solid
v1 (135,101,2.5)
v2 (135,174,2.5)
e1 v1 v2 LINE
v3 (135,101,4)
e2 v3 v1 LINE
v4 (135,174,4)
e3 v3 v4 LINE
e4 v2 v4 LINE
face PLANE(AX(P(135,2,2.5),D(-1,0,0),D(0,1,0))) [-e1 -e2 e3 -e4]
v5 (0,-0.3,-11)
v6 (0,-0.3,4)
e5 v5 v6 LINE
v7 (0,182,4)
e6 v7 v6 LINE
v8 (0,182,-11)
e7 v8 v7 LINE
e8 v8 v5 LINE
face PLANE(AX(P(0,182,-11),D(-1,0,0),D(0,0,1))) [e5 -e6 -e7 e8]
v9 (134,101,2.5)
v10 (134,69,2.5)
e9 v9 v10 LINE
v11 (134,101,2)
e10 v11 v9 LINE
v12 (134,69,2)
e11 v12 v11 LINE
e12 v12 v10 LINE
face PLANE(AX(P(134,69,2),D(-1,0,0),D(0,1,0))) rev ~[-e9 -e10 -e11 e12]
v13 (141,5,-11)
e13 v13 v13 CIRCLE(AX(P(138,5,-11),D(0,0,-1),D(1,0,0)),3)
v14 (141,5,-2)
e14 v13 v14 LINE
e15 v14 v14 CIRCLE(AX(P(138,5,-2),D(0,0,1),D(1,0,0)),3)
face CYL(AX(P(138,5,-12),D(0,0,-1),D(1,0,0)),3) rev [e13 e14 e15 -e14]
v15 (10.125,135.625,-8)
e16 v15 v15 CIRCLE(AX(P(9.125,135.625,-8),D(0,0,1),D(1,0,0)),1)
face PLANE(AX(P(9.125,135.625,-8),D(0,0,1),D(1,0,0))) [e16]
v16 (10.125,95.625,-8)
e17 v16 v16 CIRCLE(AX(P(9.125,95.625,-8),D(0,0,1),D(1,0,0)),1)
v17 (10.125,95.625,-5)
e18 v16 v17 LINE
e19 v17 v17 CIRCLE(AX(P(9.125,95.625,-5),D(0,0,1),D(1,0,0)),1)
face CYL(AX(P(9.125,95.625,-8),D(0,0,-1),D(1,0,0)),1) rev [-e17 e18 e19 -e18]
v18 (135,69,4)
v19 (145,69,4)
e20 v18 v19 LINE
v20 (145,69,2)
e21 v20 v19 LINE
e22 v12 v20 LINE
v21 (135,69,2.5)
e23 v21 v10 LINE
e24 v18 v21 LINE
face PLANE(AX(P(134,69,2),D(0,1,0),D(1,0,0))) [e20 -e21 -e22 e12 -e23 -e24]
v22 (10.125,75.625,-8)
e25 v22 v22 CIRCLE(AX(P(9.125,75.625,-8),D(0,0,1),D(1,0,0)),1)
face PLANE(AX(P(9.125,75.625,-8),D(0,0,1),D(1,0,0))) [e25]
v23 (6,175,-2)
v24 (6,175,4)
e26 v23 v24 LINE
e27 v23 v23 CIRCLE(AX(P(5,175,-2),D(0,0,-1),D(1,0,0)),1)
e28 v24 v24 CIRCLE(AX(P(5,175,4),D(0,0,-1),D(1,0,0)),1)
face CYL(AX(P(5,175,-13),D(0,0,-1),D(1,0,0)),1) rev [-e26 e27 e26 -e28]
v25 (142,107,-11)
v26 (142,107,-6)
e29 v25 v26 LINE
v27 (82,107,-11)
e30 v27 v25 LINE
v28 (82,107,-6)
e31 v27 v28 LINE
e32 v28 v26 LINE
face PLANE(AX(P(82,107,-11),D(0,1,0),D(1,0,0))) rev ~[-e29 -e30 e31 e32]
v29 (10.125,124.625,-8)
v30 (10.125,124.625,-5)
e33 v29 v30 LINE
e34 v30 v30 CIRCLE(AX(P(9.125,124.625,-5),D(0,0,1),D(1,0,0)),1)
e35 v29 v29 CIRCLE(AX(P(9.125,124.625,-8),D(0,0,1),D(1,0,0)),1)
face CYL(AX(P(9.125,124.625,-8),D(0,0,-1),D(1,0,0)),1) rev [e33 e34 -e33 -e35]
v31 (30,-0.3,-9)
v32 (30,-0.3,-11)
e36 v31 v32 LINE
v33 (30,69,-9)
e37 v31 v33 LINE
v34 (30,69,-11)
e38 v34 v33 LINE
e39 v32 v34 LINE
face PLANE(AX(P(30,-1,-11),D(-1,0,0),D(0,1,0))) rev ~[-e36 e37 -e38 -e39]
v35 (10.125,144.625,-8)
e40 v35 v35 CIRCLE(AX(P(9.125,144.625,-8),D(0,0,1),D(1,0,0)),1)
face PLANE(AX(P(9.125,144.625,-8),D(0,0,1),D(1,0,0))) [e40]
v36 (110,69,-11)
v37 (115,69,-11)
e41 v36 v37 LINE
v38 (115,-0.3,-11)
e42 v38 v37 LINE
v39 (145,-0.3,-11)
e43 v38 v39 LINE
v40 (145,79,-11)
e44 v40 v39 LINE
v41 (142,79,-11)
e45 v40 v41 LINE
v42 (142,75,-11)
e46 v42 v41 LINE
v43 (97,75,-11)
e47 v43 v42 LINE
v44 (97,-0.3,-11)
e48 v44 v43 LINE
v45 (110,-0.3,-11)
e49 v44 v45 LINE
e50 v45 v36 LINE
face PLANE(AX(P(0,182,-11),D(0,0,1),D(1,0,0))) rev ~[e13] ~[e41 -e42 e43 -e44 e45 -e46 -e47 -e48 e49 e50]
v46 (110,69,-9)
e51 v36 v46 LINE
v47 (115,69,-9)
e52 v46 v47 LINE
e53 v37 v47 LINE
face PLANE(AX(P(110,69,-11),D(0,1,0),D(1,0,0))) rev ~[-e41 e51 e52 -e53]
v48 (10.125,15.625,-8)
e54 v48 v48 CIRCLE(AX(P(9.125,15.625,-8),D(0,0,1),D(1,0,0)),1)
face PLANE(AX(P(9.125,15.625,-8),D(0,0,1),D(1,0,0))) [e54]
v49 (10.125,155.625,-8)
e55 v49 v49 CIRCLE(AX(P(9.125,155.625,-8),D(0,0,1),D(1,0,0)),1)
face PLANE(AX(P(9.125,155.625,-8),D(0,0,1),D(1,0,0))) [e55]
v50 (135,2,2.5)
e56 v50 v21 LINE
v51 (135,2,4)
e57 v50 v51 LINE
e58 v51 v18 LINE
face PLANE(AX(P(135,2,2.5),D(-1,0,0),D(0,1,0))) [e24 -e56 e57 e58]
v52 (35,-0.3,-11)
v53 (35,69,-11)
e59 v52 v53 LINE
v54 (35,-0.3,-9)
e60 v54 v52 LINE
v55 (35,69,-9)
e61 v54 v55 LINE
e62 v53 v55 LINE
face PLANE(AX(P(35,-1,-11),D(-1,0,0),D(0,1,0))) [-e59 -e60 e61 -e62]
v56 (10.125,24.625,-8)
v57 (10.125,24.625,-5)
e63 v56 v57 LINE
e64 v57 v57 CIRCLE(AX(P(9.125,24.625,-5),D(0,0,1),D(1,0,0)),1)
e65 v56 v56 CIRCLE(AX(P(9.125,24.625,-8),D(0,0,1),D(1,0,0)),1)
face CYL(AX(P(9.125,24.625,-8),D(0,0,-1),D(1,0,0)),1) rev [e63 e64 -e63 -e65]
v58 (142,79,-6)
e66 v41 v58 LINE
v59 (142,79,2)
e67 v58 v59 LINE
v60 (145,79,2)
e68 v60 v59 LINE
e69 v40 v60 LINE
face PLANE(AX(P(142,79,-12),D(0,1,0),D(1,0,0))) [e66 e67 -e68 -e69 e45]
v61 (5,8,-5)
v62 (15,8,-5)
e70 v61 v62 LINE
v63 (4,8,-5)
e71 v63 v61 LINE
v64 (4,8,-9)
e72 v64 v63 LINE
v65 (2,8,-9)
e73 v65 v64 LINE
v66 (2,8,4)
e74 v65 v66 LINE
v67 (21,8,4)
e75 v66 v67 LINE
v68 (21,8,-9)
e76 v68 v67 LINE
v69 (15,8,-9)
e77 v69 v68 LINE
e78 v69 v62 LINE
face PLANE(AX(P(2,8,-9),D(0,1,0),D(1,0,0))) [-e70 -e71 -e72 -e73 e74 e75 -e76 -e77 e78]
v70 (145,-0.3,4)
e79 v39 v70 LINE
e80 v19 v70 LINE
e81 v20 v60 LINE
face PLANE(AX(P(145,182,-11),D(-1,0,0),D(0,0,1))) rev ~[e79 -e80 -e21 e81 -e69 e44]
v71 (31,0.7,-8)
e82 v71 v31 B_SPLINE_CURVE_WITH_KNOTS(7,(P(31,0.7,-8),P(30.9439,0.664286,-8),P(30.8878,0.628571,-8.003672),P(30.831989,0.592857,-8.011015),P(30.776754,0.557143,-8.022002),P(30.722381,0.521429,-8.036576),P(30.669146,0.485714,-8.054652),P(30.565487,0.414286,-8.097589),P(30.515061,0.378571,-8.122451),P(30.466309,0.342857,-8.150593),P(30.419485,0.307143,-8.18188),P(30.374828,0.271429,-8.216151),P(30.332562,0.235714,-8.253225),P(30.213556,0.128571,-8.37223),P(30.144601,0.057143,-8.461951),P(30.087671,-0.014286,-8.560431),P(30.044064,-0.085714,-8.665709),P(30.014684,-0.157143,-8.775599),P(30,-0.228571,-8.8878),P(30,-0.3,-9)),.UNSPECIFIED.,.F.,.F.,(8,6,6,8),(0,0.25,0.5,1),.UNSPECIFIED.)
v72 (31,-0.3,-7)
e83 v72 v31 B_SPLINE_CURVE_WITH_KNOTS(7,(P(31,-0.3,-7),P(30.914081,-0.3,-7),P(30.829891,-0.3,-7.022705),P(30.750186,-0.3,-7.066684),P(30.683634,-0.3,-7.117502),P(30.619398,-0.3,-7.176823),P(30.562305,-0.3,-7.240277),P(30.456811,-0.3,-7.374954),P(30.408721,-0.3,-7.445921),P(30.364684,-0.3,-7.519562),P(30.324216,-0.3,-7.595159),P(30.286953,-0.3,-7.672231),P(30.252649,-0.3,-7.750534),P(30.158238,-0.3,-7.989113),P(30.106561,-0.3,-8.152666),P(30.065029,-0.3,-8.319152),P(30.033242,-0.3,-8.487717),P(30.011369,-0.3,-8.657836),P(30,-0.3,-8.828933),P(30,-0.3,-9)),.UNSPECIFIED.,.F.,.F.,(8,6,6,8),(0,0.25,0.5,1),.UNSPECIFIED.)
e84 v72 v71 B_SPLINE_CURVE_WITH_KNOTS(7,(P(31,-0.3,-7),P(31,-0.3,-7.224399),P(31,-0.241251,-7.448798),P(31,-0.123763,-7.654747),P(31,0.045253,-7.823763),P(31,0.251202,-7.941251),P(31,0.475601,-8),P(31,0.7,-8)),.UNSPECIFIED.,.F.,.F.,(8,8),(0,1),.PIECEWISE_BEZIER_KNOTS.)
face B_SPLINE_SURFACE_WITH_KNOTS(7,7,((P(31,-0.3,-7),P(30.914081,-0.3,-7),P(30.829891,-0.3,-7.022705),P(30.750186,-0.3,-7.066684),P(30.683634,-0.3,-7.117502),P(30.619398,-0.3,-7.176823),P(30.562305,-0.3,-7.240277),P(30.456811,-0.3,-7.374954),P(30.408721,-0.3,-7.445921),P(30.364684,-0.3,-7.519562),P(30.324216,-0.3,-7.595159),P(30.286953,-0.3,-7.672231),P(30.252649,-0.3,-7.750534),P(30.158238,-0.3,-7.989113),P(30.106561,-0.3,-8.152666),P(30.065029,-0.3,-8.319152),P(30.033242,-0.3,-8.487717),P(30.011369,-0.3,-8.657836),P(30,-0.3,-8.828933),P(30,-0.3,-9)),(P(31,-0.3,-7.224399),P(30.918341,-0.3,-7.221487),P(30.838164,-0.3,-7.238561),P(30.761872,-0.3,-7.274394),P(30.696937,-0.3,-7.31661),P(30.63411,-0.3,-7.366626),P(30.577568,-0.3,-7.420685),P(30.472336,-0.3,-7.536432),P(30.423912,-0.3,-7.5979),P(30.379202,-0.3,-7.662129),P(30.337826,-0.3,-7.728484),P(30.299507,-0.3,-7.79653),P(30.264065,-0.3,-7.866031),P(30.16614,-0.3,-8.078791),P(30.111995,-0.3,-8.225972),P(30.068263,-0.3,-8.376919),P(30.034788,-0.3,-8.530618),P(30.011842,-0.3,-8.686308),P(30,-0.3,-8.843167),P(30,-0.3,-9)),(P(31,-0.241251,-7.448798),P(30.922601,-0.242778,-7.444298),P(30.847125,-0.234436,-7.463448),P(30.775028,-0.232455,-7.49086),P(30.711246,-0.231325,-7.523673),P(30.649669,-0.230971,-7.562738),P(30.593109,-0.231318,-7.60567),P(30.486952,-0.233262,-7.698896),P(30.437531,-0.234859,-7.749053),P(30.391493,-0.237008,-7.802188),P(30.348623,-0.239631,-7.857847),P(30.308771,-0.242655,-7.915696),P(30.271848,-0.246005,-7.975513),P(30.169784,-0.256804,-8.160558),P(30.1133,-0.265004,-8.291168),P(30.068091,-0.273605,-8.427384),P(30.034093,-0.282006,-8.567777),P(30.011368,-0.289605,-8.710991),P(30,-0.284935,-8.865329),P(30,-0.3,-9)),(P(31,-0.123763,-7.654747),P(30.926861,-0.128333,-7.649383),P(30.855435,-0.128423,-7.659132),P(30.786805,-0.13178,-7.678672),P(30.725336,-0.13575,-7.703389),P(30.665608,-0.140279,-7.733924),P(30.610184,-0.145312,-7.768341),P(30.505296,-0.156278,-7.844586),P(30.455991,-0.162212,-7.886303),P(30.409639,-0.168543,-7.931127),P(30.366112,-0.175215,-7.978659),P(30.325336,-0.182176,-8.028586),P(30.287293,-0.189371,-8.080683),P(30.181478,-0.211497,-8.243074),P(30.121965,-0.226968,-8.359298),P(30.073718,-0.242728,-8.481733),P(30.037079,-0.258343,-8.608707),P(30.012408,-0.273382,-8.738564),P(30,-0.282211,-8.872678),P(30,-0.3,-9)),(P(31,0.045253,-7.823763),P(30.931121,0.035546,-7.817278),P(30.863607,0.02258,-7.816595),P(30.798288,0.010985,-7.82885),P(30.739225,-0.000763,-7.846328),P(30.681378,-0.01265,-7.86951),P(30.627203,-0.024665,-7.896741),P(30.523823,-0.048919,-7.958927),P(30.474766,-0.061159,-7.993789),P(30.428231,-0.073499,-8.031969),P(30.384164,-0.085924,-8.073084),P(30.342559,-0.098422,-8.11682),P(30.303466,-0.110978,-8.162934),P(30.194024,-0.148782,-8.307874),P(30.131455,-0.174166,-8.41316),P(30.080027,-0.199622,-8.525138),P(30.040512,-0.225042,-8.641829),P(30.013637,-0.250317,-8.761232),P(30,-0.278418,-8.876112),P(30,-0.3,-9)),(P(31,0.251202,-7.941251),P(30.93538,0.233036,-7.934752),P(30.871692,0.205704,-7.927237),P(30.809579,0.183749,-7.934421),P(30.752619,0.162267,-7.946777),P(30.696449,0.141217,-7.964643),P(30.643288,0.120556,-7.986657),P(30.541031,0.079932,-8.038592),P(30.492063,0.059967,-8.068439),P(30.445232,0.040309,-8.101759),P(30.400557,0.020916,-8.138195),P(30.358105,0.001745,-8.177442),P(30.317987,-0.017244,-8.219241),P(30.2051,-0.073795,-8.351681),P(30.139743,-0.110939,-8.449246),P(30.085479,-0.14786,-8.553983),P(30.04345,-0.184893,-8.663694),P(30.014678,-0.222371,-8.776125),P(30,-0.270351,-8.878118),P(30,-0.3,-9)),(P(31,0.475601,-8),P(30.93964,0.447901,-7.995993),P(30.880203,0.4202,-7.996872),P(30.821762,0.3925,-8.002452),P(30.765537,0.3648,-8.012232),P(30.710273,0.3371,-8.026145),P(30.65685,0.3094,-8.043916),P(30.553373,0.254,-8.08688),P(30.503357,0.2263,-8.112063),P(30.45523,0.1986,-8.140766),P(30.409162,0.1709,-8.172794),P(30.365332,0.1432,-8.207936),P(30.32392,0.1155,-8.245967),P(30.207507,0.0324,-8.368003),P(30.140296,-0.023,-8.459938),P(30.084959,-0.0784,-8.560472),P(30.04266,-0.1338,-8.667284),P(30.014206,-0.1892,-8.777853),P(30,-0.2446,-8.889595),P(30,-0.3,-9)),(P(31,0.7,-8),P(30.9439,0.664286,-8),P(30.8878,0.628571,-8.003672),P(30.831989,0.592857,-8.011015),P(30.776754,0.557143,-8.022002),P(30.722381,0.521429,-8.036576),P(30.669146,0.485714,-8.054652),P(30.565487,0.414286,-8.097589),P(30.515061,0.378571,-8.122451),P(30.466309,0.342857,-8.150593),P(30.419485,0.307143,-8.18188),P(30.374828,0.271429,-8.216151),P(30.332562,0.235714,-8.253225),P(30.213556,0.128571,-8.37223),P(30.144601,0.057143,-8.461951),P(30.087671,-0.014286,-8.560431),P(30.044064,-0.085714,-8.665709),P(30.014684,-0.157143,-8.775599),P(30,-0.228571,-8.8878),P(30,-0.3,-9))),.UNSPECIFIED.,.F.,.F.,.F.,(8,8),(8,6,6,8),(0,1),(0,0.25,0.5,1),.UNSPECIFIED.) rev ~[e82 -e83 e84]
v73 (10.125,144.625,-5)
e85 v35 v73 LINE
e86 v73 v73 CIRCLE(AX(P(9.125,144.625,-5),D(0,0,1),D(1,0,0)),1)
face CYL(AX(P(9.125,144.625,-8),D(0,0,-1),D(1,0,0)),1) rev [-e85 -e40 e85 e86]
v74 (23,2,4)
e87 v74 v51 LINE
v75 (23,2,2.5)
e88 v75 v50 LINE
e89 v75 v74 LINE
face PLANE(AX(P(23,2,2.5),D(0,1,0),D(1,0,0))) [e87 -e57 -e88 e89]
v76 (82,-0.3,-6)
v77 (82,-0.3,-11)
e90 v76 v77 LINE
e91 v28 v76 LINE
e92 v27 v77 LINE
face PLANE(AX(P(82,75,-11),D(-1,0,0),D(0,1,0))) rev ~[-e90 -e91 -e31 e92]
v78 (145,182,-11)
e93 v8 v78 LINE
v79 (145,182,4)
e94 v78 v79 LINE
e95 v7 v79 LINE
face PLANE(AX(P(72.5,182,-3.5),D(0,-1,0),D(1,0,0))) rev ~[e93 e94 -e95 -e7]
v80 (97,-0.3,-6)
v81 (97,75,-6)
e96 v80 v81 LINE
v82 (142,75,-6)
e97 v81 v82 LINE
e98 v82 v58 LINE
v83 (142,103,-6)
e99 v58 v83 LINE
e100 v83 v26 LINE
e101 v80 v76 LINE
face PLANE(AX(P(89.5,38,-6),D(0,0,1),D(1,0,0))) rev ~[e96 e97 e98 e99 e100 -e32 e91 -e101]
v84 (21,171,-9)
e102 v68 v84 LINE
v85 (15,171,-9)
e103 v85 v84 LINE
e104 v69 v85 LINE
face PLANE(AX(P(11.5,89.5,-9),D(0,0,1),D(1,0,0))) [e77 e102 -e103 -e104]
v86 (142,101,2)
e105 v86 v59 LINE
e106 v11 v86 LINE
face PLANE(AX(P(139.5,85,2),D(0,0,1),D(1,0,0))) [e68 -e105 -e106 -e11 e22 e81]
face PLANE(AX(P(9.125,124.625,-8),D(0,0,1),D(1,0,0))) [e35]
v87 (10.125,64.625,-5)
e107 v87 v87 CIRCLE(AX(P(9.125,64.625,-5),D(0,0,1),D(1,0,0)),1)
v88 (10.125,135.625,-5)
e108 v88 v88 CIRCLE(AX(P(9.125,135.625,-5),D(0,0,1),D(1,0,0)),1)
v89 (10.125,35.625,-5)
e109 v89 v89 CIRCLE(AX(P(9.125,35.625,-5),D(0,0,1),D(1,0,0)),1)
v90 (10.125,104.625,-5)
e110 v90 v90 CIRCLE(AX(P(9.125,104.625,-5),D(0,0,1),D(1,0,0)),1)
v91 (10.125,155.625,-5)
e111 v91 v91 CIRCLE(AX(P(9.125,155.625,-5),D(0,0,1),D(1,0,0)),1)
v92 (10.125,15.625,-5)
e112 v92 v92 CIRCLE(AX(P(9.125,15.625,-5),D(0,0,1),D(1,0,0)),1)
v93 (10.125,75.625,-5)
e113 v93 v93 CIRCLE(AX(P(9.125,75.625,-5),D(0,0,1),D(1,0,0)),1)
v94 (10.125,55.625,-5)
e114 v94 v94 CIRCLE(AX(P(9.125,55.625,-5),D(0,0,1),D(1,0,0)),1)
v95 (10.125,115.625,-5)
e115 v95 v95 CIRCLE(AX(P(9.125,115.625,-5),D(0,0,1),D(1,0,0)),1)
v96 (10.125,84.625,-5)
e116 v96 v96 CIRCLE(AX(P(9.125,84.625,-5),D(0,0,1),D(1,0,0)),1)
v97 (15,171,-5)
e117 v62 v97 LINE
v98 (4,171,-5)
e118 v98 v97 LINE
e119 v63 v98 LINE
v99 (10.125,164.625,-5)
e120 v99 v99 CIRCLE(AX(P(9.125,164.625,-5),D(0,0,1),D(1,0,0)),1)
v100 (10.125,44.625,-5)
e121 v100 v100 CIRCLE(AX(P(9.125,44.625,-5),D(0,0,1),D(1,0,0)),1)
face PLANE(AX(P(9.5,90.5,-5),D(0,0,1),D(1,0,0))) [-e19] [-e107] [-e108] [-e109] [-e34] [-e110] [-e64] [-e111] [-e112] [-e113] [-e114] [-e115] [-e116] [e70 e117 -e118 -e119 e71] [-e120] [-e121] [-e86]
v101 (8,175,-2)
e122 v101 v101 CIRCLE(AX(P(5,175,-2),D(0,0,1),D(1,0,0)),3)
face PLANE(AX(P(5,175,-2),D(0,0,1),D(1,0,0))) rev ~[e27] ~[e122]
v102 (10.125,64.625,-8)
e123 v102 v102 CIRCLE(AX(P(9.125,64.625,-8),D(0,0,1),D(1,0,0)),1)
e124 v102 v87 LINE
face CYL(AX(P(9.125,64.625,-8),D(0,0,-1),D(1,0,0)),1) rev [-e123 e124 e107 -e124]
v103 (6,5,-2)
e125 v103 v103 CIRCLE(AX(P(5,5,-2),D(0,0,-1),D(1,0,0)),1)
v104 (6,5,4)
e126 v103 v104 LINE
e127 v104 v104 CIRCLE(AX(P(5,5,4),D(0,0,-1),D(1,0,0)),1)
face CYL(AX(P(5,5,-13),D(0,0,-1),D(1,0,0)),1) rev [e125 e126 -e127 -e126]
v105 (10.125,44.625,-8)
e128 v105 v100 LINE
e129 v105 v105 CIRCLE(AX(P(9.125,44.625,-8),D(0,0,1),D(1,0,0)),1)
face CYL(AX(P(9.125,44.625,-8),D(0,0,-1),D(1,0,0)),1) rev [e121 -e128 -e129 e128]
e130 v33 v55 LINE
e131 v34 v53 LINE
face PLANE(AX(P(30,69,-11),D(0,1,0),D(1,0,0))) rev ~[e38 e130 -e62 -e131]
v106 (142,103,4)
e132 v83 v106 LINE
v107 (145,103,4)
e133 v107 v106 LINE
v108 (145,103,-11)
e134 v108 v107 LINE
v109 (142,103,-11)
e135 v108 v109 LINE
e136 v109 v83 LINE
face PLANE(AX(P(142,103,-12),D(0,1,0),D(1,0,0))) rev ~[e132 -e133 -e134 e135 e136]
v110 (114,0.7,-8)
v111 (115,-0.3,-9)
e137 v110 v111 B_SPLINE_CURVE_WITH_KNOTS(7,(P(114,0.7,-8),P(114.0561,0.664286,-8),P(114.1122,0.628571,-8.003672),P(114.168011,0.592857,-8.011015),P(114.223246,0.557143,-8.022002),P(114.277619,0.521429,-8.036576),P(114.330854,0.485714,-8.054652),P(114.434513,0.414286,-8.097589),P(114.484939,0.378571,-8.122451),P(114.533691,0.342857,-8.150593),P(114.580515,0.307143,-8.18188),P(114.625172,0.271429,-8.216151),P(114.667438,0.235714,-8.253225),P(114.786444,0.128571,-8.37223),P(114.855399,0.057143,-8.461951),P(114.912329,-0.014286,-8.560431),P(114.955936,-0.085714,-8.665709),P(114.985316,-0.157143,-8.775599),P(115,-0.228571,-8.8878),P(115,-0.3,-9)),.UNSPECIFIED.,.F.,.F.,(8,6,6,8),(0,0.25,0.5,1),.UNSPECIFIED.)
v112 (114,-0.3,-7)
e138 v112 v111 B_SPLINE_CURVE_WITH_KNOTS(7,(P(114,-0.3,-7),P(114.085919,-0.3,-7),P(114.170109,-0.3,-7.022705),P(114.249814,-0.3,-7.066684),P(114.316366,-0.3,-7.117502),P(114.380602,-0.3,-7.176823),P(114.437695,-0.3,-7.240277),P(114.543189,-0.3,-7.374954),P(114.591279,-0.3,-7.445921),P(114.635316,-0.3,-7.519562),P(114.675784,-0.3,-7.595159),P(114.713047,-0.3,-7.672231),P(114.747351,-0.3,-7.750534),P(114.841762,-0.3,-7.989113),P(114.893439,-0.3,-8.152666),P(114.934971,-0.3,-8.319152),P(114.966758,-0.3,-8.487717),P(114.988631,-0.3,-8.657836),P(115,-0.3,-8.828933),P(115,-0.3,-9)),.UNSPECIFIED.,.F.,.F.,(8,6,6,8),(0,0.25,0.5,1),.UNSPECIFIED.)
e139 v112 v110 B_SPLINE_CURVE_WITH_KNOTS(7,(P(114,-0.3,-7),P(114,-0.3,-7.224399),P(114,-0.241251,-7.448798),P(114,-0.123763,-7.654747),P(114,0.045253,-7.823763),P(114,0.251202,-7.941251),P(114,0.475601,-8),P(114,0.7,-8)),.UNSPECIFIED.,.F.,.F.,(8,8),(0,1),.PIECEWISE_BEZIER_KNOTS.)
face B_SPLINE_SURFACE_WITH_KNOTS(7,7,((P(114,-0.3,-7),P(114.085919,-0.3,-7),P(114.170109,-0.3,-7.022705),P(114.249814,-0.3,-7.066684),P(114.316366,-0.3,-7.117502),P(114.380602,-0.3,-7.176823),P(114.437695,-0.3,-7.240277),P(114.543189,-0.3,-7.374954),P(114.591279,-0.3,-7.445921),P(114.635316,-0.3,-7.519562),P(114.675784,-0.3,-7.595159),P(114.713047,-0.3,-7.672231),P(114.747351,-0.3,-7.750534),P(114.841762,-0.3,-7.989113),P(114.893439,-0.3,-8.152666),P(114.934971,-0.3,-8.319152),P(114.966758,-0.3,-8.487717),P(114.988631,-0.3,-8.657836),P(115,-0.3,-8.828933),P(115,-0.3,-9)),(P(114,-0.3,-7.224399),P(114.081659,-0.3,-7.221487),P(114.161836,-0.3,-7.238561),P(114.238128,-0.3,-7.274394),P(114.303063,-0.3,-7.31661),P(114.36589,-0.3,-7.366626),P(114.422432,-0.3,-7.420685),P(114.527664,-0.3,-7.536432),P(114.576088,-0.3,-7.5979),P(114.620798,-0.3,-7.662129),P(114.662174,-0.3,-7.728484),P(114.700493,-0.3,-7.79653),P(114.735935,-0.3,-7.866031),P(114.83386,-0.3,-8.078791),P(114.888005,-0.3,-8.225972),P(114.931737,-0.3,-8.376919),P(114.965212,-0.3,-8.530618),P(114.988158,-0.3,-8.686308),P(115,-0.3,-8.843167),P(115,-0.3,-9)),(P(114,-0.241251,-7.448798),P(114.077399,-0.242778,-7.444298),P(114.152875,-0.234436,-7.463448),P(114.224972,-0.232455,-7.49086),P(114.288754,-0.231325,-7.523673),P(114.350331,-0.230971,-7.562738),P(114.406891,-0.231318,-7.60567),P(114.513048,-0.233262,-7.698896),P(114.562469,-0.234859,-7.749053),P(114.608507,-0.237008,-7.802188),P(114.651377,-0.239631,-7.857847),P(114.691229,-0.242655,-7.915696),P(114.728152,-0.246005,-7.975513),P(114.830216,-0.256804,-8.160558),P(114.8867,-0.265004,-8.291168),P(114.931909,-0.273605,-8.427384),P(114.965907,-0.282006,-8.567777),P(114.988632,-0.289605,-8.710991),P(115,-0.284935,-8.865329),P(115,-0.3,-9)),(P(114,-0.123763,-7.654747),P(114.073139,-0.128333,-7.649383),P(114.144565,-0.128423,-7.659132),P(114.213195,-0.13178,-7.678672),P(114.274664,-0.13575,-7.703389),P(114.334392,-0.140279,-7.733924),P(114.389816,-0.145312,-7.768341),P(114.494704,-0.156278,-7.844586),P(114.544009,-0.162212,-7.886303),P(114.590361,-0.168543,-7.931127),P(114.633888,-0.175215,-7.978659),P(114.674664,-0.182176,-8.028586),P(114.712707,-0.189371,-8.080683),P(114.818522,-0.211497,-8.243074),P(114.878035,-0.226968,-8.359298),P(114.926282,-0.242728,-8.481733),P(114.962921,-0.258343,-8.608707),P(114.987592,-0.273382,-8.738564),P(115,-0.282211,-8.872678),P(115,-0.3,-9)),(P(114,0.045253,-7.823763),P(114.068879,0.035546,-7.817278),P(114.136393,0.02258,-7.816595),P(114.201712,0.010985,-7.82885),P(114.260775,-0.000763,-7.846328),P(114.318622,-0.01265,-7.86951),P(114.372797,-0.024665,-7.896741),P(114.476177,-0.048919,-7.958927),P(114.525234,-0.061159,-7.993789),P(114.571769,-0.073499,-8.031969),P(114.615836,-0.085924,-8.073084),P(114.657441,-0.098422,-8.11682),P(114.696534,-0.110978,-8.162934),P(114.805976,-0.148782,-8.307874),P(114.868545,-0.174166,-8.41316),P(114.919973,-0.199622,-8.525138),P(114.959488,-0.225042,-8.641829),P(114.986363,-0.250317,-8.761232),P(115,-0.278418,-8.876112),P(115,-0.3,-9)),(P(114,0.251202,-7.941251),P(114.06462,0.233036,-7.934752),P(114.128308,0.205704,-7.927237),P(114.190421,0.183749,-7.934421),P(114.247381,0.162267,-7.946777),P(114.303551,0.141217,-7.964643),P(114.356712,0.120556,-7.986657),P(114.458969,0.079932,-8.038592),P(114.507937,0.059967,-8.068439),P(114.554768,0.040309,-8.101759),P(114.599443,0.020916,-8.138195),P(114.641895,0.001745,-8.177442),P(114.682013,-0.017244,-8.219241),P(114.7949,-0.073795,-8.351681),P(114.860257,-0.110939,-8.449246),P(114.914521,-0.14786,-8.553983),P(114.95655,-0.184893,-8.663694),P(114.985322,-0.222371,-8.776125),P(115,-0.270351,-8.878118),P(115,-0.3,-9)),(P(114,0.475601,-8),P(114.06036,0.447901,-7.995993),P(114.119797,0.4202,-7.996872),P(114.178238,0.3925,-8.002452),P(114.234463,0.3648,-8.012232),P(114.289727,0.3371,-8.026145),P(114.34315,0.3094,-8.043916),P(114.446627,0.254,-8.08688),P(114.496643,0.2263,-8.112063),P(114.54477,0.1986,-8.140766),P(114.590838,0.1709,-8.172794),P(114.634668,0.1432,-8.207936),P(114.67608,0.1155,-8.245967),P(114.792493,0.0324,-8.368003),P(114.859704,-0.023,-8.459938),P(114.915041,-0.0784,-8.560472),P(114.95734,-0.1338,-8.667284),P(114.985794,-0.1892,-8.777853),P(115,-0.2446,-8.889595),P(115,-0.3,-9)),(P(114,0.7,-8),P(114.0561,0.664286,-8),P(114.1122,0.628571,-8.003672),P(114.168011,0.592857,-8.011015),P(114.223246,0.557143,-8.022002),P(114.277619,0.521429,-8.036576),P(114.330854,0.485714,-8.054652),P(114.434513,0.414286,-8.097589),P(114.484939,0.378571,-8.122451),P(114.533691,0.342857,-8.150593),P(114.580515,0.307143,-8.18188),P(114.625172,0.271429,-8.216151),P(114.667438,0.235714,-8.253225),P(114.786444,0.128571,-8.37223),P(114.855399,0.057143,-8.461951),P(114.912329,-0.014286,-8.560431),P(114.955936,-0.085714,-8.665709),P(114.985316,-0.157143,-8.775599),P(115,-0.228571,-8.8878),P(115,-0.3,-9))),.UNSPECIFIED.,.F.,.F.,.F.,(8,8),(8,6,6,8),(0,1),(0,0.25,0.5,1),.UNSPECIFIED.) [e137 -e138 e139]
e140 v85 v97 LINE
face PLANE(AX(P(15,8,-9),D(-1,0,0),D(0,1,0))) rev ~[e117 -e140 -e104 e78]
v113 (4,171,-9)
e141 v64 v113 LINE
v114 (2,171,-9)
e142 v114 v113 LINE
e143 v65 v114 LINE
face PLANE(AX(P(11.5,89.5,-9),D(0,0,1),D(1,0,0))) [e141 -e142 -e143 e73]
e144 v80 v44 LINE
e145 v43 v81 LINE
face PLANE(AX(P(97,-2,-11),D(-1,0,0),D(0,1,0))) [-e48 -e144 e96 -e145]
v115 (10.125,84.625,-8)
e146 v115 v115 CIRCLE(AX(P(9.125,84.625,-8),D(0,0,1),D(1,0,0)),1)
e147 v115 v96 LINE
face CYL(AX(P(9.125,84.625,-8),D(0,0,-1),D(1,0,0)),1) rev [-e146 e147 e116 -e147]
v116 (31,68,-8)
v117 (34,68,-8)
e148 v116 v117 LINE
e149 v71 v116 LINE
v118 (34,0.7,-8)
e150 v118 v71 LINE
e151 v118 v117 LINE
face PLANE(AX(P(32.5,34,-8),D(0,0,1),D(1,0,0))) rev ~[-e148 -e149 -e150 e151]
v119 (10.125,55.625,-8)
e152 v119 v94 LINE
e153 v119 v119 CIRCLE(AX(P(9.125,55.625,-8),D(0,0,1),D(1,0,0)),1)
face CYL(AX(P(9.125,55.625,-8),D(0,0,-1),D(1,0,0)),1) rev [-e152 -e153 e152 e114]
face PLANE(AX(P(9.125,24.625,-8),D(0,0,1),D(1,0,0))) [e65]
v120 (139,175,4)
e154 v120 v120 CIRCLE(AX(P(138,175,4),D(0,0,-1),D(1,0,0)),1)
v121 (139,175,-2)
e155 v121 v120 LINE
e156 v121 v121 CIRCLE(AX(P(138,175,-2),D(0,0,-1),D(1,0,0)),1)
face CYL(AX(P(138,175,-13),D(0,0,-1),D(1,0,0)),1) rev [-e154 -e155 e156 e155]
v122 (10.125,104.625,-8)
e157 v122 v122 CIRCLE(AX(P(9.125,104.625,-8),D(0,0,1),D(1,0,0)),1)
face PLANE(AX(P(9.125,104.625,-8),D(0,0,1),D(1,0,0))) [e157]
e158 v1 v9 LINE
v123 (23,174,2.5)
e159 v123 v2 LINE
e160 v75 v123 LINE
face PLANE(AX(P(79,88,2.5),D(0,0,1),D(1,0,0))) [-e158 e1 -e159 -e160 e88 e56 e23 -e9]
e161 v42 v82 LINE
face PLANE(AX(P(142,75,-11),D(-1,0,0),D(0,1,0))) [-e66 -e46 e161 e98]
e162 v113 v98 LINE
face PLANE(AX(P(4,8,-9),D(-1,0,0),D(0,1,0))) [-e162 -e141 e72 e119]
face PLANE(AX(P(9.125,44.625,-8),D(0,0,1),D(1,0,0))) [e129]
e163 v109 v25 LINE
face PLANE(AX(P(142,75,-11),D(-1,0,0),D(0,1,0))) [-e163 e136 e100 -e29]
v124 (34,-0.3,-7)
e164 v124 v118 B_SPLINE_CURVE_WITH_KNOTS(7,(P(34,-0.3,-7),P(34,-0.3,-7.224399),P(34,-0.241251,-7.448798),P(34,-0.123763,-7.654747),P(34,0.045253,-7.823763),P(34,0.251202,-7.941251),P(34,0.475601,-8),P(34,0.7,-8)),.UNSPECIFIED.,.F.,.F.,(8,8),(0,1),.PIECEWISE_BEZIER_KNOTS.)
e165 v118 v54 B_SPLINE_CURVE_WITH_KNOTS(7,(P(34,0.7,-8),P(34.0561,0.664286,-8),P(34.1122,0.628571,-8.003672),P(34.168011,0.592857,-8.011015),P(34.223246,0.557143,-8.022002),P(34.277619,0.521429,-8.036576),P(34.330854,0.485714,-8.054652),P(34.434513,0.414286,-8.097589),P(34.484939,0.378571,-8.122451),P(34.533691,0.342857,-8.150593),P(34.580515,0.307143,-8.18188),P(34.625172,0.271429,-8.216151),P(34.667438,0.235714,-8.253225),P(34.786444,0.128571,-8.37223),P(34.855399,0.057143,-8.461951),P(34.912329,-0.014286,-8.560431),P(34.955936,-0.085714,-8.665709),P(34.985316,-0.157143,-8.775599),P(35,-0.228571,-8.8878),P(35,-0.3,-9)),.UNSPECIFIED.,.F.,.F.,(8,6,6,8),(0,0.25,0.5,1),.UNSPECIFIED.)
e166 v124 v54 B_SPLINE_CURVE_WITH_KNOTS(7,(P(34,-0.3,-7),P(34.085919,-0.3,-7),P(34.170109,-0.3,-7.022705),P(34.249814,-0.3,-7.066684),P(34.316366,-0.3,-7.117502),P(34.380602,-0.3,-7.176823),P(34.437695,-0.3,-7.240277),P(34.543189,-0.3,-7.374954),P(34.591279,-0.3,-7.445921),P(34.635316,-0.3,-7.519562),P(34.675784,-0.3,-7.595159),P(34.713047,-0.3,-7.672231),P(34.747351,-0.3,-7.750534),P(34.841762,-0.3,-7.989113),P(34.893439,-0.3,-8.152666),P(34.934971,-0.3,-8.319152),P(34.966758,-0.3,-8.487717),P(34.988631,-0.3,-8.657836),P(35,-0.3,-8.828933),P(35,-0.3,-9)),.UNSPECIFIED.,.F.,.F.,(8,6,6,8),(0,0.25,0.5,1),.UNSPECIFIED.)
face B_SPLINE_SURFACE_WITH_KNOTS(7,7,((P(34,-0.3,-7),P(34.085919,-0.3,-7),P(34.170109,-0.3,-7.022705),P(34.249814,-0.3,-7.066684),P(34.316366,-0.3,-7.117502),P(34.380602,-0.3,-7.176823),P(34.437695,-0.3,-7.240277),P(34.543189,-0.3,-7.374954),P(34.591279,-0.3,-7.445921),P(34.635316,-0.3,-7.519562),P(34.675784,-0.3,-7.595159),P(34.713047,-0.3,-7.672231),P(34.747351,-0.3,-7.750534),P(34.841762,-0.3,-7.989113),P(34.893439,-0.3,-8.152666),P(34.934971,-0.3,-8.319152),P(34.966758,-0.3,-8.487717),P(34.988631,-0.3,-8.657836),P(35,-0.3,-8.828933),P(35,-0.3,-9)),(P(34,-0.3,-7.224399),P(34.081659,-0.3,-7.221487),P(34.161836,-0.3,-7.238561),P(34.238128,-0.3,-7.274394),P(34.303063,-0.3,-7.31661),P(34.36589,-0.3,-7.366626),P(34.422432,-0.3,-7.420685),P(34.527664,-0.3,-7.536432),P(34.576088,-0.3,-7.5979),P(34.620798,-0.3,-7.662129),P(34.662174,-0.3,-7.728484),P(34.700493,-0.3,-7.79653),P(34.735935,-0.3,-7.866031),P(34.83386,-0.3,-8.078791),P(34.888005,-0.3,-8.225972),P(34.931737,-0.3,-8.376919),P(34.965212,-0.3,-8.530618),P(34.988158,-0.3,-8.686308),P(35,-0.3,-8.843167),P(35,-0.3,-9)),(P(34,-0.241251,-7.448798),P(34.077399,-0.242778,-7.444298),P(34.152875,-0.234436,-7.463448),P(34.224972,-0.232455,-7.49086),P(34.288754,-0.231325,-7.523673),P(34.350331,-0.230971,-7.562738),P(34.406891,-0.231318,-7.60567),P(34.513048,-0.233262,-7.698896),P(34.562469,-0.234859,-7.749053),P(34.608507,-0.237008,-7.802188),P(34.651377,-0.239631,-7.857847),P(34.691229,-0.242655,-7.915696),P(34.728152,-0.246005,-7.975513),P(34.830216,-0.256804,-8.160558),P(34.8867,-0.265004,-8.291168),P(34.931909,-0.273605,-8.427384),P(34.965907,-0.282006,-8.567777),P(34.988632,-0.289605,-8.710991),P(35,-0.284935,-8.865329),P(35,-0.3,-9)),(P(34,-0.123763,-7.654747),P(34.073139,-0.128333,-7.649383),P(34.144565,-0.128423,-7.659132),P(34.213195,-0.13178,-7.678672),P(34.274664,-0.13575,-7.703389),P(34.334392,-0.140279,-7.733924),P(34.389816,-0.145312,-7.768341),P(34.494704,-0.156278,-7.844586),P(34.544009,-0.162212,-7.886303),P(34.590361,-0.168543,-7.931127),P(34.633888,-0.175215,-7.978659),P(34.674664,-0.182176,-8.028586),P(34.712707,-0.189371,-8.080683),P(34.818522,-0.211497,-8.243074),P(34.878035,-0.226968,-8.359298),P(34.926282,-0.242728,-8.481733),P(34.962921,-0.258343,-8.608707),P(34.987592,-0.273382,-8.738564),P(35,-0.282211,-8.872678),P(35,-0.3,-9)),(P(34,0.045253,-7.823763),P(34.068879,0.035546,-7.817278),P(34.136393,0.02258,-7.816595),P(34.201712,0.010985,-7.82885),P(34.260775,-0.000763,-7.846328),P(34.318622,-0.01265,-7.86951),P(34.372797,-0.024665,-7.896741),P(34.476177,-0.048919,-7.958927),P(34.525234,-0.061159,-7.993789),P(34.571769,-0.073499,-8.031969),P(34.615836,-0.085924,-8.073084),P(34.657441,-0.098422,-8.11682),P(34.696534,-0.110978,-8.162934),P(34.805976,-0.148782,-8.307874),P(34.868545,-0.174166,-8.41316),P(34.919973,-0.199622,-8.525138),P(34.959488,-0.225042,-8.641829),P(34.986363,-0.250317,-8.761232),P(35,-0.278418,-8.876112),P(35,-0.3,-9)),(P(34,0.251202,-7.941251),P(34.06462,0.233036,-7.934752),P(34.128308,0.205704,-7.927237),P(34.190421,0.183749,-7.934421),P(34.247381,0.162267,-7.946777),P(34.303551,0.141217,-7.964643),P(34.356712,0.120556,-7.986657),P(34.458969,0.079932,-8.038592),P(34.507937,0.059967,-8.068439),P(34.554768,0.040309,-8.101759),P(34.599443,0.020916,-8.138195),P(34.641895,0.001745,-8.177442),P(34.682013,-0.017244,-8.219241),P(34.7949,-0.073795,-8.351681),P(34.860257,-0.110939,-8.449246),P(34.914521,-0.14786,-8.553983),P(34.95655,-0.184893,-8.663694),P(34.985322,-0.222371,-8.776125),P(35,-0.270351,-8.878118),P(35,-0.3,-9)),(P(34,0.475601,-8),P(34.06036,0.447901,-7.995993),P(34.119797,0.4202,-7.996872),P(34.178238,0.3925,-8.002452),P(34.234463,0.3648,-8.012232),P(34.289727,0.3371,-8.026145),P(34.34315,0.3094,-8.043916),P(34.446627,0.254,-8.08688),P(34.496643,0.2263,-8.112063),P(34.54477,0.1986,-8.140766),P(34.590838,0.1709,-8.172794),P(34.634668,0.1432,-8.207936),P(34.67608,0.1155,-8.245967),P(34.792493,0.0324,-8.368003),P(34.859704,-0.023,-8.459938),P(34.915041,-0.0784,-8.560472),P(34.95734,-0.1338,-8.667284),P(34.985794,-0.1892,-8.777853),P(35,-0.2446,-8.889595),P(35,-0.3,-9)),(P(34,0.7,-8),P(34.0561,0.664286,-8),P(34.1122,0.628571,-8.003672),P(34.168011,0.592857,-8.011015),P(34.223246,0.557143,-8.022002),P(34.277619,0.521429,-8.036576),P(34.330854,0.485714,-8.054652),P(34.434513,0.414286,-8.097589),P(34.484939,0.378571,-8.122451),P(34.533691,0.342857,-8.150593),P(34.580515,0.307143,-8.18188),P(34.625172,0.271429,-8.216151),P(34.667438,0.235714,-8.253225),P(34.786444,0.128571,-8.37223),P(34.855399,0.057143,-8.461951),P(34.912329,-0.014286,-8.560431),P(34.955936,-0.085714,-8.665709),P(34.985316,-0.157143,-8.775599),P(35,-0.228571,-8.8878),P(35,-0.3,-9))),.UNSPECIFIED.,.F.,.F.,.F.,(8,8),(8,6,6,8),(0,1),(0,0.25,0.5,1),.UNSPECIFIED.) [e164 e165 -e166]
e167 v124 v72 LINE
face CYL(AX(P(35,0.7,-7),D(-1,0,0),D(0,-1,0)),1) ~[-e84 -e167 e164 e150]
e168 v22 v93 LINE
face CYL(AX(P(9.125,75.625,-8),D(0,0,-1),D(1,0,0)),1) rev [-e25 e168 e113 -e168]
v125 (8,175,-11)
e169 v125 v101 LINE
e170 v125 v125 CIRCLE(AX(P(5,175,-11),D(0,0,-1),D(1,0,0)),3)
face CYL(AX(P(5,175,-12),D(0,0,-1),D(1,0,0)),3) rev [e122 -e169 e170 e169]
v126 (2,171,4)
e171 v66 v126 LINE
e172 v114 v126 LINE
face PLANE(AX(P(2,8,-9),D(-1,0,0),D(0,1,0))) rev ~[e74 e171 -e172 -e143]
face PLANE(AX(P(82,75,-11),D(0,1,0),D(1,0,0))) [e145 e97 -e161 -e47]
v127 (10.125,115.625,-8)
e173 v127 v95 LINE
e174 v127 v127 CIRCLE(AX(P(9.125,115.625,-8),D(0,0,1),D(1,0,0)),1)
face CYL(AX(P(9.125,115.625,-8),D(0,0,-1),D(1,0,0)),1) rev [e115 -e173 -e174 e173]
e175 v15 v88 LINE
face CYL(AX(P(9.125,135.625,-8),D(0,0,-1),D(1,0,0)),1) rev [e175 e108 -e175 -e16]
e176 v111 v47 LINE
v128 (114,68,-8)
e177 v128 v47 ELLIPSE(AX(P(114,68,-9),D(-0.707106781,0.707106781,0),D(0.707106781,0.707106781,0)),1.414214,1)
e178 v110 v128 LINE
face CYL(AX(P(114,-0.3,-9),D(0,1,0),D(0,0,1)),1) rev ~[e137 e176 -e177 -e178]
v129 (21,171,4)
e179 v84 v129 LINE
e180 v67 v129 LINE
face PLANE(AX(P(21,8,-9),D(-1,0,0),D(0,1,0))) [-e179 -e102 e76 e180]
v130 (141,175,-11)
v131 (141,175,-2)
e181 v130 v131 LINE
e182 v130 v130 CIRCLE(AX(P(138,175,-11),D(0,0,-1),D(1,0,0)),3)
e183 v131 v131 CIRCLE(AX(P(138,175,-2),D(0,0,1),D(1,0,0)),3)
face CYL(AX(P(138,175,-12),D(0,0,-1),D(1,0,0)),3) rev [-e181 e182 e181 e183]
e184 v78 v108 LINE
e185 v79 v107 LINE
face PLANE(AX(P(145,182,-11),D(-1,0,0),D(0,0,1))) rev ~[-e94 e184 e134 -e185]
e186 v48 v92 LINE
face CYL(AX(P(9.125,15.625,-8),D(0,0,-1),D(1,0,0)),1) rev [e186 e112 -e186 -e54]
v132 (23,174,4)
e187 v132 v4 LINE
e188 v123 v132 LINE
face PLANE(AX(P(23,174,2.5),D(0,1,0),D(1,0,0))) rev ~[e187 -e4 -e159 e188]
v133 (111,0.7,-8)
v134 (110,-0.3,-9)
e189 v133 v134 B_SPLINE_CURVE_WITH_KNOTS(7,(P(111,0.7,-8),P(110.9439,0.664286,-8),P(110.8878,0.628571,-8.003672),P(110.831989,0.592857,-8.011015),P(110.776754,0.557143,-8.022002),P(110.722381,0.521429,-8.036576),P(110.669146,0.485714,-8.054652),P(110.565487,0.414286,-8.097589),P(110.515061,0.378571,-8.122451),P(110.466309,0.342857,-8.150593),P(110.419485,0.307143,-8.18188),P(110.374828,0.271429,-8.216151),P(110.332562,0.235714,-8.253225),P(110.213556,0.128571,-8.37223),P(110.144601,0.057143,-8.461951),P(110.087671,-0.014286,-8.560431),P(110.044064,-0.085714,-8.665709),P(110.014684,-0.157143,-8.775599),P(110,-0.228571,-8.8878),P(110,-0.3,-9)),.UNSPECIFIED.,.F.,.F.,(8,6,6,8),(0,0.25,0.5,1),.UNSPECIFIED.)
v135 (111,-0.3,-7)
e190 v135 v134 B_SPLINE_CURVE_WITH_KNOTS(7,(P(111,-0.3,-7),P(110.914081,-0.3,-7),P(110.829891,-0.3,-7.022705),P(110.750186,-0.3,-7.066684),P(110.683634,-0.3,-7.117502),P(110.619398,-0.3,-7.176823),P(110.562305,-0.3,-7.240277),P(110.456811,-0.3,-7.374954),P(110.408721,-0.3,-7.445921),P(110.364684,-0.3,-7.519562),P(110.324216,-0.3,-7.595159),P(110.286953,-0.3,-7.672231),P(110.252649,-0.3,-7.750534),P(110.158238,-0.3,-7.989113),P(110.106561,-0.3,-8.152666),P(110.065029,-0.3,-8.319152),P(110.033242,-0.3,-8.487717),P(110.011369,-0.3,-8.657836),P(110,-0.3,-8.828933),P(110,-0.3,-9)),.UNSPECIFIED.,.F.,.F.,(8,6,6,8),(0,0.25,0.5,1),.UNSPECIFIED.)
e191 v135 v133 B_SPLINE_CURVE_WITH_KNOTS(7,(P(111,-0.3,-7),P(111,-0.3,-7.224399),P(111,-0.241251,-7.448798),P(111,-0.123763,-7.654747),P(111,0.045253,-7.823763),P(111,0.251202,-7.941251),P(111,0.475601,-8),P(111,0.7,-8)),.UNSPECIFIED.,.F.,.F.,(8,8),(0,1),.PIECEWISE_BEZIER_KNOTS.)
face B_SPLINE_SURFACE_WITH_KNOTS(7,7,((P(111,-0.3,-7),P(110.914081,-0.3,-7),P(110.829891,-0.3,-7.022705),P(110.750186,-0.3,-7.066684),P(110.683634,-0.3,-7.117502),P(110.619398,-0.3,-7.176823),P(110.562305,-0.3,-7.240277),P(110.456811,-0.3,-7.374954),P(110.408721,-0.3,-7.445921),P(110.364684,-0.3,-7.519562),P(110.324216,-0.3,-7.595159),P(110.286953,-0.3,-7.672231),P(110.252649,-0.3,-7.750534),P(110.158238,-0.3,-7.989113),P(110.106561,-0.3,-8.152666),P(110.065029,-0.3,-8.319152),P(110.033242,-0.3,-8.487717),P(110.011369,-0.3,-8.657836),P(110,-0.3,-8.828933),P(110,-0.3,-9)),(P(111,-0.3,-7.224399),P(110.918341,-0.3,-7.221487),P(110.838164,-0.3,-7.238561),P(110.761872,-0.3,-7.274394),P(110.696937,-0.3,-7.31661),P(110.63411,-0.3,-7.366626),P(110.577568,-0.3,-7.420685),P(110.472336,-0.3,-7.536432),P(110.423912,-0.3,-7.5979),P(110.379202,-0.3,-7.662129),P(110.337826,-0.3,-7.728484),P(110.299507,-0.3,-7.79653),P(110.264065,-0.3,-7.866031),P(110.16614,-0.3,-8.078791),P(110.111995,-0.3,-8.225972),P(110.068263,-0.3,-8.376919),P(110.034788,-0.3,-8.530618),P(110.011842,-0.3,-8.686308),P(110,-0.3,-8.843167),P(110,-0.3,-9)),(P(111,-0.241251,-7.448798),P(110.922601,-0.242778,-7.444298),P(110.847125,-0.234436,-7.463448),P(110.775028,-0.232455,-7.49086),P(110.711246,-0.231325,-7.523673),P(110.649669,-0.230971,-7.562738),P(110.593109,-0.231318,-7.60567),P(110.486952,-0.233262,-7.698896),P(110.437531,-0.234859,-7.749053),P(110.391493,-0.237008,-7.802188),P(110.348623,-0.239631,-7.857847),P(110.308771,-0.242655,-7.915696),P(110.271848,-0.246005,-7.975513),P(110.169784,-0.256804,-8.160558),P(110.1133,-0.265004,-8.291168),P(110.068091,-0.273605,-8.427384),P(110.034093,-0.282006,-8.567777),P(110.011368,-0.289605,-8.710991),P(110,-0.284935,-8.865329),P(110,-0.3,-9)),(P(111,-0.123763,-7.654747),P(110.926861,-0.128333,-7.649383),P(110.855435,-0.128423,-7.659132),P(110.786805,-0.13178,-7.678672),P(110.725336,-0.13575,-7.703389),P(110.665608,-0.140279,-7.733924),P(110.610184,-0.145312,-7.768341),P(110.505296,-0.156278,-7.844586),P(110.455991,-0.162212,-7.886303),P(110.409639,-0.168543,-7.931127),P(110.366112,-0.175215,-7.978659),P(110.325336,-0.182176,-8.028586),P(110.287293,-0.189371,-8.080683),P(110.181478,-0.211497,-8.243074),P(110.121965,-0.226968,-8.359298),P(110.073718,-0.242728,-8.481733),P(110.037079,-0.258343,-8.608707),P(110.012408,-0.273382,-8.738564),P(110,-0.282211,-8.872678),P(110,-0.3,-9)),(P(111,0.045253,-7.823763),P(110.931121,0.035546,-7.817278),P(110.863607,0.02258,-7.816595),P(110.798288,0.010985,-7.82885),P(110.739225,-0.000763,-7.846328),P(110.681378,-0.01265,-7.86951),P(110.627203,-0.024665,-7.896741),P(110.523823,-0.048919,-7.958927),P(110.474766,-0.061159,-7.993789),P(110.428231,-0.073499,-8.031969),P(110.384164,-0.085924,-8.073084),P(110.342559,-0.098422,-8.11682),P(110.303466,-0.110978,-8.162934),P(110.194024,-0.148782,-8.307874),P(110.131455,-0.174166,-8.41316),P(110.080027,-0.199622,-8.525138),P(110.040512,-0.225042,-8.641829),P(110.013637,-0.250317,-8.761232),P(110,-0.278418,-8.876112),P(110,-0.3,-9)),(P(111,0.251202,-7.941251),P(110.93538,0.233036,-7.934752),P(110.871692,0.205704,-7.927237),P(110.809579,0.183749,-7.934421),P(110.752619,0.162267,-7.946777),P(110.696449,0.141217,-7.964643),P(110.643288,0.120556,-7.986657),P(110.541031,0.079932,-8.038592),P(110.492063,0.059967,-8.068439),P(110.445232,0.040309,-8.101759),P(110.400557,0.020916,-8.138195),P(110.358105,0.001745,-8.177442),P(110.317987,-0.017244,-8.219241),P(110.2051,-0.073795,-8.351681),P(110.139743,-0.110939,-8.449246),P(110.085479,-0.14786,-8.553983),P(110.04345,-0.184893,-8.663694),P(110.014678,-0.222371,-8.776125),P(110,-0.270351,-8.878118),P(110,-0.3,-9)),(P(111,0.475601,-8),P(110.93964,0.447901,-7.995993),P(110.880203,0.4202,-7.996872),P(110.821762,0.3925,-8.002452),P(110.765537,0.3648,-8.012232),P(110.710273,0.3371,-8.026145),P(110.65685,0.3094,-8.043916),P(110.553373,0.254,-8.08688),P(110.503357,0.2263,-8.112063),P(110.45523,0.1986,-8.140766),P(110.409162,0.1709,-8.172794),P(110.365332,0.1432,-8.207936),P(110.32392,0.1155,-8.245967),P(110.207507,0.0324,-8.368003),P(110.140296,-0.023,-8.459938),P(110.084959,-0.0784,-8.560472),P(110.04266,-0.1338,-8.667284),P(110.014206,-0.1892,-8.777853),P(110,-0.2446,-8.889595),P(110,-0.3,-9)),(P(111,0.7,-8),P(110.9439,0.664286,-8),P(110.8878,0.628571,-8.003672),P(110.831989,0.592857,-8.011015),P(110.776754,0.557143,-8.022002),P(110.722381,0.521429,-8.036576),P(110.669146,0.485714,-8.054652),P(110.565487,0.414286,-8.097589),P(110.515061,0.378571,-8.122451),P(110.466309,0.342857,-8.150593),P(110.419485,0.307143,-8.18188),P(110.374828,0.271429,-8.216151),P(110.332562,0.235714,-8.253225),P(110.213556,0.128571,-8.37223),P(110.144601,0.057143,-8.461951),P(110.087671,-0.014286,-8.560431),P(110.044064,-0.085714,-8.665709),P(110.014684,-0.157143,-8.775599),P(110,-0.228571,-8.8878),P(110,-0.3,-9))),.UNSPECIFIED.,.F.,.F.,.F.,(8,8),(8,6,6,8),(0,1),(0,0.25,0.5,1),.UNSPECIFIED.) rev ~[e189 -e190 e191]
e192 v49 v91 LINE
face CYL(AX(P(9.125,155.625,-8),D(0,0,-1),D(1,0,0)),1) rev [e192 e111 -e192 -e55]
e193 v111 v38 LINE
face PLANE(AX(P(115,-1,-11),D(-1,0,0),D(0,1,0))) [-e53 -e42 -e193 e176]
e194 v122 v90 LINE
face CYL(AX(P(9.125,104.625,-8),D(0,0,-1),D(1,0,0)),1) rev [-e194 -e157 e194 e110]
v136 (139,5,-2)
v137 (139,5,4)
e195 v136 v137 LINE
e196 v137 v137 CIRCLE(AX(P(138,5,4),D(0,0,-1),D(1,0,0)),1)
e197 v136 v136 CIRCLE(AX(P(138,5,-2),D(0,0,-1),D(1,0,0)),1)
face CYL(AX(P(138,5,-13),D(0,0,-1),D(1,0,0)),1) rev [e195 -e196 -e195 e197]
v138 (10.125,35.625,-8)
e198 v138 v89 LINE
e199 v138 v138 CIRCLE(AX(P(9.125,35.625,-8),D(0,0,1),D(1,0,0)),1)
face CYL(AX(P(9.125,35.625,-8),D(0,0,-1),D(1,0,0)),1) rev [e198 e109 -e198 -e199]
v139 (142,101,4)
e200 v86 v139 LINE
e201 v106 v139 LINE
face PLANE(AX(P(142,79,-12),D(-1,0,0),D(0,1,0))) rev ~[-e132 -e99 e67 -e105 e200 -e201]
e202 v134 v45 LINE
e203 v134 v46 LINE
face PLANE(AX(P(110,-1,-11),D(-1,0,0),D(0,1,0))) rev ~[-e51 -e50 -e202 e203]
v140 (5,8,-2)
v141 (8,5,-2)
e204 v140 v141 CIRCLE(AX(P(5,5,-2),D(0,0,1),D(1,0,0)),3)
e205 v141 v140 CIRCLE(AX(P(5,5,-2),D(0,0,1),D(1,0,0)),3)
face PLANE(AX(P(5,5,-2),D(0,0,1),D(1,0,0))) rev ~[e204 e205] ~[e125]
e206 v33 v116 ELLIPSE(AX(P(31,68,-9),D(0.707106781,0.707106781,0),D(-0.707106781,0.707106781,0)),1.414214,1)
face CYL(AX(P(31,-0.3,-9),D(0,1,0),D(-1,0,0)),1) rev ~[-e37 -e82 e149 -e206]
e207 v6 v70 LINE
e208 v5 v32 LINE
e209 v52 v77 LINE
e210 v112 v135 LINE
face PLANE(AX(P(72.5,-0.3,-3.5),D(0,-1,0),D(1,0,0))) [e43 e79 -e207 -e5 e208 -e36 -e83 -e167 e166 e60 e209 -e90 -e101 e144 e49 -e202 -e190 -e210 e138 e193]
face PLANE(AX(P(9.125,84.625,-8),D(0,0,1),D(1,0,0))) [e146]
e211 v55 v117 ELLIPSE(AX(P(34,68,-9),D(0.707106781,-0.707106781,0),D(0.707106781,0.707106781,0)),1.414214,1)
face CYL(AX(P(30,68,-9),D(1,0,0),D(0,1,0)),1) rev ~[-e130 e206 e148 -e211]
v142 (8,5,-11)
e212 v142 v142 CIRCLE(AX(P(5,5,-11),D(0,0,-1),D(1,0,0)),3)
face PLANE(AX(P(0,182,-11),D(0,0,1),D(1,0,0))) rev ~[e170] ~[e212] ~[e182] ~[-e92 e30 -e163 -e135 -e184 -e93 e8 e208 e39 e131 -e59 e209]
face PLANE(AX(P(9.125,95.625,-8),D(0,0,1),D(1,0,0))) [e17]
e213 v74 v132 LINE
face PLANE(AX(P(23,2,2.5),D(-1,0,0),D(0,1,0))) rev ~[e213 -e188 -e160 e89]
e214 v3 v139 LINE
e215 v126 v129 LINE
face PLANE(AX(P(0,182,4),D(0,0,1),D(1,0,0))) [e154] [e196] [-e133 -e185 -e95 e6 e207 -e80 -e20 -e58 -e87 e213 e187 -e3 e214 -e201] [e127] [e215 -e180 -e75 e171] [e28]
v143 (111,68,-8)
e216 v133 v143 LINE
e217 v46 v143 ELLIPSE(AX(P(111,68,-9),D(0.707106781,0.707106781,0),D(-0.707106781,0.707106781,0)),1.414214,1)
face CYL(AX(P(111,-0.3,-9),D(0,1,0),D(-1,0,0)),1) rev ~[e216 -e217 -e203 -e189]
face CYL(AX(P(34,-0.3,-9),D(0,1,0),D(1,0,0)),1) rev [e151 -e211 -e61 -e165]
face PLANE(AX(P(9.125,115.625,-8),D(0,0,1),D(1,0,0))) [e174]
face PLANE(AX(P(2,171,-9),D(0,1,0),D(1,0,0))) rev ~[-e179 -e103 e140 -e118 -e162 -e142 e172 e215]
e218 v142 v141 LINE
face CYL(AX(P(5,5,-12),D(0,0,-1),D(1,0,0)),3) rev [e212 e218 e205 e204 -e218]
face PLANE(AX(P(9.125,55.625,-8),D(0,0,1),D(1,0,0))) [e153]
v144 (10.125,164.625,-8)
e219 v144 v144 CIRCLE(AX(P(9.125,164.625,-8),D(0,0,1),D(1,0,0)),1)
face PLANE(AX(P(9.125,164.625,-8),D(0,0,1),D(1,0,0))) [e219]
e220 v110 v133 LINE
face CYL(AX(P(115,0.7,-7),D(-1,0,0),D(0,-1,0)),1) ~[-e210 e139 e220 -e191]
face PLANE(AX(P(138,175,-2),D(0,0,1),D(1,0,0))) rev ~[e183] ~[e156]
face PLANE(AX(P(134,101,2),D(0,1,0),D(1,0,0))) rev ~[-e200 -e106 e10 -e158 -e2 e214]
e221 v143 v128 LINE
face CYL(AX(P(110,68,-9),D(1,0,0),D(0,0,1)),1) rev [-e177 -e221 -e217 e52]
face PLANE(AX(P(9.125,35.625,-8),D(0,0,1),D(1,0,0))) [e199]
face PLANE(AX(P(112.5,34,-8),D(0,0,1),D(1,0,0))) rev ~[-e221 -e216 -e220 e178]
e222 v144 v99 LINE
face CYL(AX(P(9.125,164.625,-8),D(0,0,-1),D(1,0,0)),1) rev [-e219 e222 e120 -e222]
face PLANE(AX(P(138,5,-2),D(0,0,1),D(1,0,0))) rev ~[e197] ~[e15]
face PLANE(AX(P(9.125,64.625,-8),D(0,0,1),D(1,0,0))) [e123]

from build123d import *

# Parameters (mm, degrees)
BOX005_W                             = 145
BOX005_H                             = 15
BOX005_DEPTH                         = 182.3
BOX006_W                             = 19
BOX006_H                             = 163
BOX006_DEPTH                         = 13
BOX007_W                             = 112
BOX007_H                             = 172
BOX007_DEPTH                         = 1.5
BOX008_W                             = 11
BOX008_H                             = 32
BOX008_DEPTH                         = 2
BOX009_W                             = 3
BOX009_H                             = 24
BOX009_DEPTH                         = 17
BOX010_W                             = 60
BOX010_H                             = 32
BOX010_DEPTH                         = 5
BOX011_W                             = 15
BOX011_H                             = 80
BOX011_DEPTH                         = 5
BOX012_W                             = 5
BOX012_H                             = 70
BOX012_DEPTH                         = 3
LINEARPATTERN001_COUNT               = 2
LINEARPATTERN001_PITCH               = 80
FILLET_R                             = 1
FILLET001_R                          = 1
CYLINDER002_R                        = 1
CYLINDER002_DEPTH                    = 20
CYLINDER002_LINEARPATTERN002_2_R     = 1
CYLINDER002_LINEARPATTERN002_2_DEPTH = 20
LINEARPATTERN003_COUNT               = 2
LINEARPATTERN003_PITCH               = 170
BOX013_W                             = 11
BOX013_H                             = 165
BOX013_DEPTH                         = 4
CYLINDER004_R                        = 1
CYLINDER004_DEPTH                    = 3
CYLINDER004_LINEARPATTERN006_2_R     = 1
CYLINDER004_LINEARPATTERN006_2_DEPTH = 3
LINEARPATTERN007_COUNT               = 8
LINEARPATTERN007_PITCH               = 20
CYLINDER005_R                        = 3
CYLINDER005_DEPTH                    = 10
CYLINDER005_LINEARPATTERN008_2_R     = 3
CYLINDER005_LINEARPATTERN008_2_DEPTH = 10
LINEARPATTERN009_COUNT               = 2
LINEARPATTERN009_PITCH               = 170


with BuildPart() as part:
    # Box005 → Box005 (join)
    with BuildSketch(Plane(origin=(0, 182, -11), x_dir=(1, 0, 0), z_dir=(0, -1, 0))):
        with Locations((72.5, 7.5)):
            Rectangle(BOX005_W, BOX005_H)
    extrude(amount=BOX005_DEPTH)

    # Box006 → Box006 (cut)
    with BuildSketch(Plane(origin=(2, 8, -9), x_dir=(1, 0, 0), z_dir=(0, 0, 1))):
        with Locations((9.5, 81.5)):
            Rectangle(BOX006_W, BOX006_H)
    extrude(amount=BOX006_DEPTH, mode=Mode.SUBTRACT)

    # Box007 → Box007 (cut)
    with BuildSketch(Plane(origin=(23, 2, 2.5), x_dir=(1, 0, 0), z_dir=(0, 0, 1))):
        with Locations((56, 86)):
            Rectangle(BOX007_W, BOX007_H)
    extrude(amount=BOX007_DEPTH, mode=Mode.SUBTRACT)

    # Box008 → Box008 (cut)
    with BuildSketch(Plane(origin=(134, 69, 2), x_dir=(1, 0, 0), z_dir=(0, 0, 1))):
        with Locations((5.5, 16)):
            Rectangle(BOX008_W, BOX008_H)
    extrude(amount=BOX008_DEPTH, mode=Mode.SUBTRACT)

    # Box009 → Box009 (cut)
    with BuildSketch(Plane(origin=(142, 79, -12), x_dir=(1, 0, 0), z_dir=(0, 0, 1))):
        with Locations((1.5, 12)):
            Rectangle(BOX009_W, BOX009_H)
    extrude(amount=BOX009_DEPTH, mode=Mode.SUBTRACT)

    # Box010 → Box010 (cut)
    with BuildSketch(Plane(origin=(82, 75, -11), x_dir=(1, 0, 0), z_dir=(0, 0, 1))):
        with Locations((30, 16)):
            Rectangle(BOX010_W, BOX010_H)
    extrude(amount=BOX010_DEPTH, mode=Mode.SUBTRACT)

    # Box011 → Box011 (cut)
    with BuildSketch(Plane(origin=(82, -2, -11), x_dir=(1, 0, 0), z_dir=(0, 0, 1))):
        with Locations((7.5, 40)):
            Rectangle(BOX011_W, BOX011_H)
    extrude(amount=BOX011_DEPTH, mode=Mode.SUBTRACT)

    # Box012 → Box012 (cut)
    with BuildSketch(Plane(origin=(30, -1, -11), x_dir=(1, 0, 0), z_dir=(0, 0, 1))):
        with Locations((2.5, 35)):
            Rectangle(BOX012_W, BOX012_H)
    box012 = extrude(amount=BOX012_DEPTH, mode=Mode.SUBTRACT)

    # LinearPattern001: Box012 ×2
    with Locations(*[(i * LINEARPATTERN001_PITCH, 0, 0) for i in range(1, LINEARPATTERN001_COUNT)]):
        add(box012, mode=Mode.SUBTRACT)

    # Fillet
    fillet_edges = [part.edges().sort_by_distance(p)[0] for p in [
        (30, 34.35, -8),
        (32.5, 69, -8),
        (35, 34.35, -8),
        (32.5, -0.3, -8),
    ]]
    fillet(fillet_edges, radius=FILLET_R)

    # Fillet001
    fillet001_edges = [part.edges().sort_by_distance(p)[0] for p in [
        (110, 34.35, -8),
        (112.5, 69, -8),
        (115, 34.35, -8),
        (112.5, -0.3, -8),
    ]]
    fillet(fillet001_edges, radius=FILLET001_R)

    # Cylinder002 → Cylinder002 (cut)
    with BuildSketch(Plane(origin=(5, 5, -13), x_dir=(1, 0, 0), z_dir=(0, 0, 1))):
        Circle(CYLINDER002_R)
    cylinder002 = extrude(amount=CYLINDER002_DEPTH, mode=Mode.SUBTRACT)

    # Cylinder002 LinearPattern002 2 → Cylinder002 LinearPattern002 2 (cut)
    with BuildSketch(Plane(origin=(138, 5, -13), x_dir=(1, 0, 0), z_dir=(0, 0, 1))):
        Circle(CYLINDER002_LINEARPATTERN002_2_R)
    cylinder002_linearpattern002_2 = extrude(amount=CYLINDER002_LINEARPATTERN002_2_DEPTH, mode=Mode.SUBTRACT)

    # LinearPattern003: Cylinder002, Cylinder002 LinearPattern002 2 ×2
    with Locations(*[(0, i * LINEARPATTERN003_PITCH, 0) for i in range(1, LINEARPATTERN003_COUNT)]):
        add(cylinder002, mode=Mode.SUBTRACT)
        add(cylinder002_linearpattern002_2, mode=Mode.SUBTRACT)

    # Box013 → Box013 (join)
    with BuildSketch(Plane(origin=(4, 8, -9), x_dir=(1, 0, 0), z_dir=(0, 0, 1))):
        with Locations((5.5, 82.5)):
            Rectangle(BOX013_W, BOX013_H)
    extrude(amount=BOX013_DEPTH)

    # Cylinder004 → Cylinder004 (cut)
    with BuildSketch(Plane(origin=(9.125, 15.625, -8), x_dir=(1, 0, 0), z_dir=(0, 0, 1))):
        Circle(CYLINDER004_R)
    cylinder004 = extrude(amount=CYLINDER004_DEPTH, mode=Mode.SUBTRACT)

    # Cylinder004 LinearPattern006 2 → Cylinder004 LinearPattern006 2 (cut)
    with BuildSketch(Plane(origin=(9.125, 24.625, -8), x_dir=(1, 0, 0), z_dir=(0, 0, 1))):
        Circle(CYLINDER004_LINEARPATTERN006_2_R)
    cylinder004_linearpattern006_2 = extrude(amount=CYLINDER004_LINEARPATTERN006_2_DEPTH, mode=Mode.SUBTRACT)

    # LinearPattern007: Cylinder004, Cylinder004 LinearPattern006 2 ×8
    with Locations(*[(0, i * LINEARPATTERN007_PITCH, 0) for i in range(1, LINEARPATTERN007_COUNT)]):
        add(cylinder004, mode=Mode.SUBTRACT)
        add(cylinder004_linearpattern006_2, mode=Mode.SUBTRACT)

    # Cylinder005 → Cylinder005 (cut)
    with BuildSketch(Plane(origin=(5, 5, -12), x_dir=(1, 0, 0), z_dir=(0, 0, 1))):
        Circle(CYLINDER005_R)
    cylinder005 = extrude(amount=CYLINDER005_DEPTH, mode=Mode.SUBTRACT)

    # Cylinder005 LinearPattern008 2 → Cylinder005 LinearPattern008 2 (cut)
    with BuildSketch(Plane(origin=(138, 5, -12), x_dir=(1, 0, 0), z_dir=(0, 0, 1))):
        Circle(CYLINDER005_LINEARPATTERN008_2_R)
    cylinder005_linearpattern008_2 = extrude(amount=CYLINDER005_LINEARPATTERN008_2_DEPTH, mode=Mode.SUBTRACT)

    # LinearPattern009: Cylinder005, Cylinder005 LinearPattern008 2 ×2
    with Locations(*[(0, i * LINEARPATTERN009_PITCH, 0) for i in range(1, LINEARPATTERN009_COUNT)]):
        add(cylinder005, mode=Mode.SUBTRACT)
        add(cylinder005_linearpattern008_2, mode=Mode.SUBTRACT)


solid = part.part
